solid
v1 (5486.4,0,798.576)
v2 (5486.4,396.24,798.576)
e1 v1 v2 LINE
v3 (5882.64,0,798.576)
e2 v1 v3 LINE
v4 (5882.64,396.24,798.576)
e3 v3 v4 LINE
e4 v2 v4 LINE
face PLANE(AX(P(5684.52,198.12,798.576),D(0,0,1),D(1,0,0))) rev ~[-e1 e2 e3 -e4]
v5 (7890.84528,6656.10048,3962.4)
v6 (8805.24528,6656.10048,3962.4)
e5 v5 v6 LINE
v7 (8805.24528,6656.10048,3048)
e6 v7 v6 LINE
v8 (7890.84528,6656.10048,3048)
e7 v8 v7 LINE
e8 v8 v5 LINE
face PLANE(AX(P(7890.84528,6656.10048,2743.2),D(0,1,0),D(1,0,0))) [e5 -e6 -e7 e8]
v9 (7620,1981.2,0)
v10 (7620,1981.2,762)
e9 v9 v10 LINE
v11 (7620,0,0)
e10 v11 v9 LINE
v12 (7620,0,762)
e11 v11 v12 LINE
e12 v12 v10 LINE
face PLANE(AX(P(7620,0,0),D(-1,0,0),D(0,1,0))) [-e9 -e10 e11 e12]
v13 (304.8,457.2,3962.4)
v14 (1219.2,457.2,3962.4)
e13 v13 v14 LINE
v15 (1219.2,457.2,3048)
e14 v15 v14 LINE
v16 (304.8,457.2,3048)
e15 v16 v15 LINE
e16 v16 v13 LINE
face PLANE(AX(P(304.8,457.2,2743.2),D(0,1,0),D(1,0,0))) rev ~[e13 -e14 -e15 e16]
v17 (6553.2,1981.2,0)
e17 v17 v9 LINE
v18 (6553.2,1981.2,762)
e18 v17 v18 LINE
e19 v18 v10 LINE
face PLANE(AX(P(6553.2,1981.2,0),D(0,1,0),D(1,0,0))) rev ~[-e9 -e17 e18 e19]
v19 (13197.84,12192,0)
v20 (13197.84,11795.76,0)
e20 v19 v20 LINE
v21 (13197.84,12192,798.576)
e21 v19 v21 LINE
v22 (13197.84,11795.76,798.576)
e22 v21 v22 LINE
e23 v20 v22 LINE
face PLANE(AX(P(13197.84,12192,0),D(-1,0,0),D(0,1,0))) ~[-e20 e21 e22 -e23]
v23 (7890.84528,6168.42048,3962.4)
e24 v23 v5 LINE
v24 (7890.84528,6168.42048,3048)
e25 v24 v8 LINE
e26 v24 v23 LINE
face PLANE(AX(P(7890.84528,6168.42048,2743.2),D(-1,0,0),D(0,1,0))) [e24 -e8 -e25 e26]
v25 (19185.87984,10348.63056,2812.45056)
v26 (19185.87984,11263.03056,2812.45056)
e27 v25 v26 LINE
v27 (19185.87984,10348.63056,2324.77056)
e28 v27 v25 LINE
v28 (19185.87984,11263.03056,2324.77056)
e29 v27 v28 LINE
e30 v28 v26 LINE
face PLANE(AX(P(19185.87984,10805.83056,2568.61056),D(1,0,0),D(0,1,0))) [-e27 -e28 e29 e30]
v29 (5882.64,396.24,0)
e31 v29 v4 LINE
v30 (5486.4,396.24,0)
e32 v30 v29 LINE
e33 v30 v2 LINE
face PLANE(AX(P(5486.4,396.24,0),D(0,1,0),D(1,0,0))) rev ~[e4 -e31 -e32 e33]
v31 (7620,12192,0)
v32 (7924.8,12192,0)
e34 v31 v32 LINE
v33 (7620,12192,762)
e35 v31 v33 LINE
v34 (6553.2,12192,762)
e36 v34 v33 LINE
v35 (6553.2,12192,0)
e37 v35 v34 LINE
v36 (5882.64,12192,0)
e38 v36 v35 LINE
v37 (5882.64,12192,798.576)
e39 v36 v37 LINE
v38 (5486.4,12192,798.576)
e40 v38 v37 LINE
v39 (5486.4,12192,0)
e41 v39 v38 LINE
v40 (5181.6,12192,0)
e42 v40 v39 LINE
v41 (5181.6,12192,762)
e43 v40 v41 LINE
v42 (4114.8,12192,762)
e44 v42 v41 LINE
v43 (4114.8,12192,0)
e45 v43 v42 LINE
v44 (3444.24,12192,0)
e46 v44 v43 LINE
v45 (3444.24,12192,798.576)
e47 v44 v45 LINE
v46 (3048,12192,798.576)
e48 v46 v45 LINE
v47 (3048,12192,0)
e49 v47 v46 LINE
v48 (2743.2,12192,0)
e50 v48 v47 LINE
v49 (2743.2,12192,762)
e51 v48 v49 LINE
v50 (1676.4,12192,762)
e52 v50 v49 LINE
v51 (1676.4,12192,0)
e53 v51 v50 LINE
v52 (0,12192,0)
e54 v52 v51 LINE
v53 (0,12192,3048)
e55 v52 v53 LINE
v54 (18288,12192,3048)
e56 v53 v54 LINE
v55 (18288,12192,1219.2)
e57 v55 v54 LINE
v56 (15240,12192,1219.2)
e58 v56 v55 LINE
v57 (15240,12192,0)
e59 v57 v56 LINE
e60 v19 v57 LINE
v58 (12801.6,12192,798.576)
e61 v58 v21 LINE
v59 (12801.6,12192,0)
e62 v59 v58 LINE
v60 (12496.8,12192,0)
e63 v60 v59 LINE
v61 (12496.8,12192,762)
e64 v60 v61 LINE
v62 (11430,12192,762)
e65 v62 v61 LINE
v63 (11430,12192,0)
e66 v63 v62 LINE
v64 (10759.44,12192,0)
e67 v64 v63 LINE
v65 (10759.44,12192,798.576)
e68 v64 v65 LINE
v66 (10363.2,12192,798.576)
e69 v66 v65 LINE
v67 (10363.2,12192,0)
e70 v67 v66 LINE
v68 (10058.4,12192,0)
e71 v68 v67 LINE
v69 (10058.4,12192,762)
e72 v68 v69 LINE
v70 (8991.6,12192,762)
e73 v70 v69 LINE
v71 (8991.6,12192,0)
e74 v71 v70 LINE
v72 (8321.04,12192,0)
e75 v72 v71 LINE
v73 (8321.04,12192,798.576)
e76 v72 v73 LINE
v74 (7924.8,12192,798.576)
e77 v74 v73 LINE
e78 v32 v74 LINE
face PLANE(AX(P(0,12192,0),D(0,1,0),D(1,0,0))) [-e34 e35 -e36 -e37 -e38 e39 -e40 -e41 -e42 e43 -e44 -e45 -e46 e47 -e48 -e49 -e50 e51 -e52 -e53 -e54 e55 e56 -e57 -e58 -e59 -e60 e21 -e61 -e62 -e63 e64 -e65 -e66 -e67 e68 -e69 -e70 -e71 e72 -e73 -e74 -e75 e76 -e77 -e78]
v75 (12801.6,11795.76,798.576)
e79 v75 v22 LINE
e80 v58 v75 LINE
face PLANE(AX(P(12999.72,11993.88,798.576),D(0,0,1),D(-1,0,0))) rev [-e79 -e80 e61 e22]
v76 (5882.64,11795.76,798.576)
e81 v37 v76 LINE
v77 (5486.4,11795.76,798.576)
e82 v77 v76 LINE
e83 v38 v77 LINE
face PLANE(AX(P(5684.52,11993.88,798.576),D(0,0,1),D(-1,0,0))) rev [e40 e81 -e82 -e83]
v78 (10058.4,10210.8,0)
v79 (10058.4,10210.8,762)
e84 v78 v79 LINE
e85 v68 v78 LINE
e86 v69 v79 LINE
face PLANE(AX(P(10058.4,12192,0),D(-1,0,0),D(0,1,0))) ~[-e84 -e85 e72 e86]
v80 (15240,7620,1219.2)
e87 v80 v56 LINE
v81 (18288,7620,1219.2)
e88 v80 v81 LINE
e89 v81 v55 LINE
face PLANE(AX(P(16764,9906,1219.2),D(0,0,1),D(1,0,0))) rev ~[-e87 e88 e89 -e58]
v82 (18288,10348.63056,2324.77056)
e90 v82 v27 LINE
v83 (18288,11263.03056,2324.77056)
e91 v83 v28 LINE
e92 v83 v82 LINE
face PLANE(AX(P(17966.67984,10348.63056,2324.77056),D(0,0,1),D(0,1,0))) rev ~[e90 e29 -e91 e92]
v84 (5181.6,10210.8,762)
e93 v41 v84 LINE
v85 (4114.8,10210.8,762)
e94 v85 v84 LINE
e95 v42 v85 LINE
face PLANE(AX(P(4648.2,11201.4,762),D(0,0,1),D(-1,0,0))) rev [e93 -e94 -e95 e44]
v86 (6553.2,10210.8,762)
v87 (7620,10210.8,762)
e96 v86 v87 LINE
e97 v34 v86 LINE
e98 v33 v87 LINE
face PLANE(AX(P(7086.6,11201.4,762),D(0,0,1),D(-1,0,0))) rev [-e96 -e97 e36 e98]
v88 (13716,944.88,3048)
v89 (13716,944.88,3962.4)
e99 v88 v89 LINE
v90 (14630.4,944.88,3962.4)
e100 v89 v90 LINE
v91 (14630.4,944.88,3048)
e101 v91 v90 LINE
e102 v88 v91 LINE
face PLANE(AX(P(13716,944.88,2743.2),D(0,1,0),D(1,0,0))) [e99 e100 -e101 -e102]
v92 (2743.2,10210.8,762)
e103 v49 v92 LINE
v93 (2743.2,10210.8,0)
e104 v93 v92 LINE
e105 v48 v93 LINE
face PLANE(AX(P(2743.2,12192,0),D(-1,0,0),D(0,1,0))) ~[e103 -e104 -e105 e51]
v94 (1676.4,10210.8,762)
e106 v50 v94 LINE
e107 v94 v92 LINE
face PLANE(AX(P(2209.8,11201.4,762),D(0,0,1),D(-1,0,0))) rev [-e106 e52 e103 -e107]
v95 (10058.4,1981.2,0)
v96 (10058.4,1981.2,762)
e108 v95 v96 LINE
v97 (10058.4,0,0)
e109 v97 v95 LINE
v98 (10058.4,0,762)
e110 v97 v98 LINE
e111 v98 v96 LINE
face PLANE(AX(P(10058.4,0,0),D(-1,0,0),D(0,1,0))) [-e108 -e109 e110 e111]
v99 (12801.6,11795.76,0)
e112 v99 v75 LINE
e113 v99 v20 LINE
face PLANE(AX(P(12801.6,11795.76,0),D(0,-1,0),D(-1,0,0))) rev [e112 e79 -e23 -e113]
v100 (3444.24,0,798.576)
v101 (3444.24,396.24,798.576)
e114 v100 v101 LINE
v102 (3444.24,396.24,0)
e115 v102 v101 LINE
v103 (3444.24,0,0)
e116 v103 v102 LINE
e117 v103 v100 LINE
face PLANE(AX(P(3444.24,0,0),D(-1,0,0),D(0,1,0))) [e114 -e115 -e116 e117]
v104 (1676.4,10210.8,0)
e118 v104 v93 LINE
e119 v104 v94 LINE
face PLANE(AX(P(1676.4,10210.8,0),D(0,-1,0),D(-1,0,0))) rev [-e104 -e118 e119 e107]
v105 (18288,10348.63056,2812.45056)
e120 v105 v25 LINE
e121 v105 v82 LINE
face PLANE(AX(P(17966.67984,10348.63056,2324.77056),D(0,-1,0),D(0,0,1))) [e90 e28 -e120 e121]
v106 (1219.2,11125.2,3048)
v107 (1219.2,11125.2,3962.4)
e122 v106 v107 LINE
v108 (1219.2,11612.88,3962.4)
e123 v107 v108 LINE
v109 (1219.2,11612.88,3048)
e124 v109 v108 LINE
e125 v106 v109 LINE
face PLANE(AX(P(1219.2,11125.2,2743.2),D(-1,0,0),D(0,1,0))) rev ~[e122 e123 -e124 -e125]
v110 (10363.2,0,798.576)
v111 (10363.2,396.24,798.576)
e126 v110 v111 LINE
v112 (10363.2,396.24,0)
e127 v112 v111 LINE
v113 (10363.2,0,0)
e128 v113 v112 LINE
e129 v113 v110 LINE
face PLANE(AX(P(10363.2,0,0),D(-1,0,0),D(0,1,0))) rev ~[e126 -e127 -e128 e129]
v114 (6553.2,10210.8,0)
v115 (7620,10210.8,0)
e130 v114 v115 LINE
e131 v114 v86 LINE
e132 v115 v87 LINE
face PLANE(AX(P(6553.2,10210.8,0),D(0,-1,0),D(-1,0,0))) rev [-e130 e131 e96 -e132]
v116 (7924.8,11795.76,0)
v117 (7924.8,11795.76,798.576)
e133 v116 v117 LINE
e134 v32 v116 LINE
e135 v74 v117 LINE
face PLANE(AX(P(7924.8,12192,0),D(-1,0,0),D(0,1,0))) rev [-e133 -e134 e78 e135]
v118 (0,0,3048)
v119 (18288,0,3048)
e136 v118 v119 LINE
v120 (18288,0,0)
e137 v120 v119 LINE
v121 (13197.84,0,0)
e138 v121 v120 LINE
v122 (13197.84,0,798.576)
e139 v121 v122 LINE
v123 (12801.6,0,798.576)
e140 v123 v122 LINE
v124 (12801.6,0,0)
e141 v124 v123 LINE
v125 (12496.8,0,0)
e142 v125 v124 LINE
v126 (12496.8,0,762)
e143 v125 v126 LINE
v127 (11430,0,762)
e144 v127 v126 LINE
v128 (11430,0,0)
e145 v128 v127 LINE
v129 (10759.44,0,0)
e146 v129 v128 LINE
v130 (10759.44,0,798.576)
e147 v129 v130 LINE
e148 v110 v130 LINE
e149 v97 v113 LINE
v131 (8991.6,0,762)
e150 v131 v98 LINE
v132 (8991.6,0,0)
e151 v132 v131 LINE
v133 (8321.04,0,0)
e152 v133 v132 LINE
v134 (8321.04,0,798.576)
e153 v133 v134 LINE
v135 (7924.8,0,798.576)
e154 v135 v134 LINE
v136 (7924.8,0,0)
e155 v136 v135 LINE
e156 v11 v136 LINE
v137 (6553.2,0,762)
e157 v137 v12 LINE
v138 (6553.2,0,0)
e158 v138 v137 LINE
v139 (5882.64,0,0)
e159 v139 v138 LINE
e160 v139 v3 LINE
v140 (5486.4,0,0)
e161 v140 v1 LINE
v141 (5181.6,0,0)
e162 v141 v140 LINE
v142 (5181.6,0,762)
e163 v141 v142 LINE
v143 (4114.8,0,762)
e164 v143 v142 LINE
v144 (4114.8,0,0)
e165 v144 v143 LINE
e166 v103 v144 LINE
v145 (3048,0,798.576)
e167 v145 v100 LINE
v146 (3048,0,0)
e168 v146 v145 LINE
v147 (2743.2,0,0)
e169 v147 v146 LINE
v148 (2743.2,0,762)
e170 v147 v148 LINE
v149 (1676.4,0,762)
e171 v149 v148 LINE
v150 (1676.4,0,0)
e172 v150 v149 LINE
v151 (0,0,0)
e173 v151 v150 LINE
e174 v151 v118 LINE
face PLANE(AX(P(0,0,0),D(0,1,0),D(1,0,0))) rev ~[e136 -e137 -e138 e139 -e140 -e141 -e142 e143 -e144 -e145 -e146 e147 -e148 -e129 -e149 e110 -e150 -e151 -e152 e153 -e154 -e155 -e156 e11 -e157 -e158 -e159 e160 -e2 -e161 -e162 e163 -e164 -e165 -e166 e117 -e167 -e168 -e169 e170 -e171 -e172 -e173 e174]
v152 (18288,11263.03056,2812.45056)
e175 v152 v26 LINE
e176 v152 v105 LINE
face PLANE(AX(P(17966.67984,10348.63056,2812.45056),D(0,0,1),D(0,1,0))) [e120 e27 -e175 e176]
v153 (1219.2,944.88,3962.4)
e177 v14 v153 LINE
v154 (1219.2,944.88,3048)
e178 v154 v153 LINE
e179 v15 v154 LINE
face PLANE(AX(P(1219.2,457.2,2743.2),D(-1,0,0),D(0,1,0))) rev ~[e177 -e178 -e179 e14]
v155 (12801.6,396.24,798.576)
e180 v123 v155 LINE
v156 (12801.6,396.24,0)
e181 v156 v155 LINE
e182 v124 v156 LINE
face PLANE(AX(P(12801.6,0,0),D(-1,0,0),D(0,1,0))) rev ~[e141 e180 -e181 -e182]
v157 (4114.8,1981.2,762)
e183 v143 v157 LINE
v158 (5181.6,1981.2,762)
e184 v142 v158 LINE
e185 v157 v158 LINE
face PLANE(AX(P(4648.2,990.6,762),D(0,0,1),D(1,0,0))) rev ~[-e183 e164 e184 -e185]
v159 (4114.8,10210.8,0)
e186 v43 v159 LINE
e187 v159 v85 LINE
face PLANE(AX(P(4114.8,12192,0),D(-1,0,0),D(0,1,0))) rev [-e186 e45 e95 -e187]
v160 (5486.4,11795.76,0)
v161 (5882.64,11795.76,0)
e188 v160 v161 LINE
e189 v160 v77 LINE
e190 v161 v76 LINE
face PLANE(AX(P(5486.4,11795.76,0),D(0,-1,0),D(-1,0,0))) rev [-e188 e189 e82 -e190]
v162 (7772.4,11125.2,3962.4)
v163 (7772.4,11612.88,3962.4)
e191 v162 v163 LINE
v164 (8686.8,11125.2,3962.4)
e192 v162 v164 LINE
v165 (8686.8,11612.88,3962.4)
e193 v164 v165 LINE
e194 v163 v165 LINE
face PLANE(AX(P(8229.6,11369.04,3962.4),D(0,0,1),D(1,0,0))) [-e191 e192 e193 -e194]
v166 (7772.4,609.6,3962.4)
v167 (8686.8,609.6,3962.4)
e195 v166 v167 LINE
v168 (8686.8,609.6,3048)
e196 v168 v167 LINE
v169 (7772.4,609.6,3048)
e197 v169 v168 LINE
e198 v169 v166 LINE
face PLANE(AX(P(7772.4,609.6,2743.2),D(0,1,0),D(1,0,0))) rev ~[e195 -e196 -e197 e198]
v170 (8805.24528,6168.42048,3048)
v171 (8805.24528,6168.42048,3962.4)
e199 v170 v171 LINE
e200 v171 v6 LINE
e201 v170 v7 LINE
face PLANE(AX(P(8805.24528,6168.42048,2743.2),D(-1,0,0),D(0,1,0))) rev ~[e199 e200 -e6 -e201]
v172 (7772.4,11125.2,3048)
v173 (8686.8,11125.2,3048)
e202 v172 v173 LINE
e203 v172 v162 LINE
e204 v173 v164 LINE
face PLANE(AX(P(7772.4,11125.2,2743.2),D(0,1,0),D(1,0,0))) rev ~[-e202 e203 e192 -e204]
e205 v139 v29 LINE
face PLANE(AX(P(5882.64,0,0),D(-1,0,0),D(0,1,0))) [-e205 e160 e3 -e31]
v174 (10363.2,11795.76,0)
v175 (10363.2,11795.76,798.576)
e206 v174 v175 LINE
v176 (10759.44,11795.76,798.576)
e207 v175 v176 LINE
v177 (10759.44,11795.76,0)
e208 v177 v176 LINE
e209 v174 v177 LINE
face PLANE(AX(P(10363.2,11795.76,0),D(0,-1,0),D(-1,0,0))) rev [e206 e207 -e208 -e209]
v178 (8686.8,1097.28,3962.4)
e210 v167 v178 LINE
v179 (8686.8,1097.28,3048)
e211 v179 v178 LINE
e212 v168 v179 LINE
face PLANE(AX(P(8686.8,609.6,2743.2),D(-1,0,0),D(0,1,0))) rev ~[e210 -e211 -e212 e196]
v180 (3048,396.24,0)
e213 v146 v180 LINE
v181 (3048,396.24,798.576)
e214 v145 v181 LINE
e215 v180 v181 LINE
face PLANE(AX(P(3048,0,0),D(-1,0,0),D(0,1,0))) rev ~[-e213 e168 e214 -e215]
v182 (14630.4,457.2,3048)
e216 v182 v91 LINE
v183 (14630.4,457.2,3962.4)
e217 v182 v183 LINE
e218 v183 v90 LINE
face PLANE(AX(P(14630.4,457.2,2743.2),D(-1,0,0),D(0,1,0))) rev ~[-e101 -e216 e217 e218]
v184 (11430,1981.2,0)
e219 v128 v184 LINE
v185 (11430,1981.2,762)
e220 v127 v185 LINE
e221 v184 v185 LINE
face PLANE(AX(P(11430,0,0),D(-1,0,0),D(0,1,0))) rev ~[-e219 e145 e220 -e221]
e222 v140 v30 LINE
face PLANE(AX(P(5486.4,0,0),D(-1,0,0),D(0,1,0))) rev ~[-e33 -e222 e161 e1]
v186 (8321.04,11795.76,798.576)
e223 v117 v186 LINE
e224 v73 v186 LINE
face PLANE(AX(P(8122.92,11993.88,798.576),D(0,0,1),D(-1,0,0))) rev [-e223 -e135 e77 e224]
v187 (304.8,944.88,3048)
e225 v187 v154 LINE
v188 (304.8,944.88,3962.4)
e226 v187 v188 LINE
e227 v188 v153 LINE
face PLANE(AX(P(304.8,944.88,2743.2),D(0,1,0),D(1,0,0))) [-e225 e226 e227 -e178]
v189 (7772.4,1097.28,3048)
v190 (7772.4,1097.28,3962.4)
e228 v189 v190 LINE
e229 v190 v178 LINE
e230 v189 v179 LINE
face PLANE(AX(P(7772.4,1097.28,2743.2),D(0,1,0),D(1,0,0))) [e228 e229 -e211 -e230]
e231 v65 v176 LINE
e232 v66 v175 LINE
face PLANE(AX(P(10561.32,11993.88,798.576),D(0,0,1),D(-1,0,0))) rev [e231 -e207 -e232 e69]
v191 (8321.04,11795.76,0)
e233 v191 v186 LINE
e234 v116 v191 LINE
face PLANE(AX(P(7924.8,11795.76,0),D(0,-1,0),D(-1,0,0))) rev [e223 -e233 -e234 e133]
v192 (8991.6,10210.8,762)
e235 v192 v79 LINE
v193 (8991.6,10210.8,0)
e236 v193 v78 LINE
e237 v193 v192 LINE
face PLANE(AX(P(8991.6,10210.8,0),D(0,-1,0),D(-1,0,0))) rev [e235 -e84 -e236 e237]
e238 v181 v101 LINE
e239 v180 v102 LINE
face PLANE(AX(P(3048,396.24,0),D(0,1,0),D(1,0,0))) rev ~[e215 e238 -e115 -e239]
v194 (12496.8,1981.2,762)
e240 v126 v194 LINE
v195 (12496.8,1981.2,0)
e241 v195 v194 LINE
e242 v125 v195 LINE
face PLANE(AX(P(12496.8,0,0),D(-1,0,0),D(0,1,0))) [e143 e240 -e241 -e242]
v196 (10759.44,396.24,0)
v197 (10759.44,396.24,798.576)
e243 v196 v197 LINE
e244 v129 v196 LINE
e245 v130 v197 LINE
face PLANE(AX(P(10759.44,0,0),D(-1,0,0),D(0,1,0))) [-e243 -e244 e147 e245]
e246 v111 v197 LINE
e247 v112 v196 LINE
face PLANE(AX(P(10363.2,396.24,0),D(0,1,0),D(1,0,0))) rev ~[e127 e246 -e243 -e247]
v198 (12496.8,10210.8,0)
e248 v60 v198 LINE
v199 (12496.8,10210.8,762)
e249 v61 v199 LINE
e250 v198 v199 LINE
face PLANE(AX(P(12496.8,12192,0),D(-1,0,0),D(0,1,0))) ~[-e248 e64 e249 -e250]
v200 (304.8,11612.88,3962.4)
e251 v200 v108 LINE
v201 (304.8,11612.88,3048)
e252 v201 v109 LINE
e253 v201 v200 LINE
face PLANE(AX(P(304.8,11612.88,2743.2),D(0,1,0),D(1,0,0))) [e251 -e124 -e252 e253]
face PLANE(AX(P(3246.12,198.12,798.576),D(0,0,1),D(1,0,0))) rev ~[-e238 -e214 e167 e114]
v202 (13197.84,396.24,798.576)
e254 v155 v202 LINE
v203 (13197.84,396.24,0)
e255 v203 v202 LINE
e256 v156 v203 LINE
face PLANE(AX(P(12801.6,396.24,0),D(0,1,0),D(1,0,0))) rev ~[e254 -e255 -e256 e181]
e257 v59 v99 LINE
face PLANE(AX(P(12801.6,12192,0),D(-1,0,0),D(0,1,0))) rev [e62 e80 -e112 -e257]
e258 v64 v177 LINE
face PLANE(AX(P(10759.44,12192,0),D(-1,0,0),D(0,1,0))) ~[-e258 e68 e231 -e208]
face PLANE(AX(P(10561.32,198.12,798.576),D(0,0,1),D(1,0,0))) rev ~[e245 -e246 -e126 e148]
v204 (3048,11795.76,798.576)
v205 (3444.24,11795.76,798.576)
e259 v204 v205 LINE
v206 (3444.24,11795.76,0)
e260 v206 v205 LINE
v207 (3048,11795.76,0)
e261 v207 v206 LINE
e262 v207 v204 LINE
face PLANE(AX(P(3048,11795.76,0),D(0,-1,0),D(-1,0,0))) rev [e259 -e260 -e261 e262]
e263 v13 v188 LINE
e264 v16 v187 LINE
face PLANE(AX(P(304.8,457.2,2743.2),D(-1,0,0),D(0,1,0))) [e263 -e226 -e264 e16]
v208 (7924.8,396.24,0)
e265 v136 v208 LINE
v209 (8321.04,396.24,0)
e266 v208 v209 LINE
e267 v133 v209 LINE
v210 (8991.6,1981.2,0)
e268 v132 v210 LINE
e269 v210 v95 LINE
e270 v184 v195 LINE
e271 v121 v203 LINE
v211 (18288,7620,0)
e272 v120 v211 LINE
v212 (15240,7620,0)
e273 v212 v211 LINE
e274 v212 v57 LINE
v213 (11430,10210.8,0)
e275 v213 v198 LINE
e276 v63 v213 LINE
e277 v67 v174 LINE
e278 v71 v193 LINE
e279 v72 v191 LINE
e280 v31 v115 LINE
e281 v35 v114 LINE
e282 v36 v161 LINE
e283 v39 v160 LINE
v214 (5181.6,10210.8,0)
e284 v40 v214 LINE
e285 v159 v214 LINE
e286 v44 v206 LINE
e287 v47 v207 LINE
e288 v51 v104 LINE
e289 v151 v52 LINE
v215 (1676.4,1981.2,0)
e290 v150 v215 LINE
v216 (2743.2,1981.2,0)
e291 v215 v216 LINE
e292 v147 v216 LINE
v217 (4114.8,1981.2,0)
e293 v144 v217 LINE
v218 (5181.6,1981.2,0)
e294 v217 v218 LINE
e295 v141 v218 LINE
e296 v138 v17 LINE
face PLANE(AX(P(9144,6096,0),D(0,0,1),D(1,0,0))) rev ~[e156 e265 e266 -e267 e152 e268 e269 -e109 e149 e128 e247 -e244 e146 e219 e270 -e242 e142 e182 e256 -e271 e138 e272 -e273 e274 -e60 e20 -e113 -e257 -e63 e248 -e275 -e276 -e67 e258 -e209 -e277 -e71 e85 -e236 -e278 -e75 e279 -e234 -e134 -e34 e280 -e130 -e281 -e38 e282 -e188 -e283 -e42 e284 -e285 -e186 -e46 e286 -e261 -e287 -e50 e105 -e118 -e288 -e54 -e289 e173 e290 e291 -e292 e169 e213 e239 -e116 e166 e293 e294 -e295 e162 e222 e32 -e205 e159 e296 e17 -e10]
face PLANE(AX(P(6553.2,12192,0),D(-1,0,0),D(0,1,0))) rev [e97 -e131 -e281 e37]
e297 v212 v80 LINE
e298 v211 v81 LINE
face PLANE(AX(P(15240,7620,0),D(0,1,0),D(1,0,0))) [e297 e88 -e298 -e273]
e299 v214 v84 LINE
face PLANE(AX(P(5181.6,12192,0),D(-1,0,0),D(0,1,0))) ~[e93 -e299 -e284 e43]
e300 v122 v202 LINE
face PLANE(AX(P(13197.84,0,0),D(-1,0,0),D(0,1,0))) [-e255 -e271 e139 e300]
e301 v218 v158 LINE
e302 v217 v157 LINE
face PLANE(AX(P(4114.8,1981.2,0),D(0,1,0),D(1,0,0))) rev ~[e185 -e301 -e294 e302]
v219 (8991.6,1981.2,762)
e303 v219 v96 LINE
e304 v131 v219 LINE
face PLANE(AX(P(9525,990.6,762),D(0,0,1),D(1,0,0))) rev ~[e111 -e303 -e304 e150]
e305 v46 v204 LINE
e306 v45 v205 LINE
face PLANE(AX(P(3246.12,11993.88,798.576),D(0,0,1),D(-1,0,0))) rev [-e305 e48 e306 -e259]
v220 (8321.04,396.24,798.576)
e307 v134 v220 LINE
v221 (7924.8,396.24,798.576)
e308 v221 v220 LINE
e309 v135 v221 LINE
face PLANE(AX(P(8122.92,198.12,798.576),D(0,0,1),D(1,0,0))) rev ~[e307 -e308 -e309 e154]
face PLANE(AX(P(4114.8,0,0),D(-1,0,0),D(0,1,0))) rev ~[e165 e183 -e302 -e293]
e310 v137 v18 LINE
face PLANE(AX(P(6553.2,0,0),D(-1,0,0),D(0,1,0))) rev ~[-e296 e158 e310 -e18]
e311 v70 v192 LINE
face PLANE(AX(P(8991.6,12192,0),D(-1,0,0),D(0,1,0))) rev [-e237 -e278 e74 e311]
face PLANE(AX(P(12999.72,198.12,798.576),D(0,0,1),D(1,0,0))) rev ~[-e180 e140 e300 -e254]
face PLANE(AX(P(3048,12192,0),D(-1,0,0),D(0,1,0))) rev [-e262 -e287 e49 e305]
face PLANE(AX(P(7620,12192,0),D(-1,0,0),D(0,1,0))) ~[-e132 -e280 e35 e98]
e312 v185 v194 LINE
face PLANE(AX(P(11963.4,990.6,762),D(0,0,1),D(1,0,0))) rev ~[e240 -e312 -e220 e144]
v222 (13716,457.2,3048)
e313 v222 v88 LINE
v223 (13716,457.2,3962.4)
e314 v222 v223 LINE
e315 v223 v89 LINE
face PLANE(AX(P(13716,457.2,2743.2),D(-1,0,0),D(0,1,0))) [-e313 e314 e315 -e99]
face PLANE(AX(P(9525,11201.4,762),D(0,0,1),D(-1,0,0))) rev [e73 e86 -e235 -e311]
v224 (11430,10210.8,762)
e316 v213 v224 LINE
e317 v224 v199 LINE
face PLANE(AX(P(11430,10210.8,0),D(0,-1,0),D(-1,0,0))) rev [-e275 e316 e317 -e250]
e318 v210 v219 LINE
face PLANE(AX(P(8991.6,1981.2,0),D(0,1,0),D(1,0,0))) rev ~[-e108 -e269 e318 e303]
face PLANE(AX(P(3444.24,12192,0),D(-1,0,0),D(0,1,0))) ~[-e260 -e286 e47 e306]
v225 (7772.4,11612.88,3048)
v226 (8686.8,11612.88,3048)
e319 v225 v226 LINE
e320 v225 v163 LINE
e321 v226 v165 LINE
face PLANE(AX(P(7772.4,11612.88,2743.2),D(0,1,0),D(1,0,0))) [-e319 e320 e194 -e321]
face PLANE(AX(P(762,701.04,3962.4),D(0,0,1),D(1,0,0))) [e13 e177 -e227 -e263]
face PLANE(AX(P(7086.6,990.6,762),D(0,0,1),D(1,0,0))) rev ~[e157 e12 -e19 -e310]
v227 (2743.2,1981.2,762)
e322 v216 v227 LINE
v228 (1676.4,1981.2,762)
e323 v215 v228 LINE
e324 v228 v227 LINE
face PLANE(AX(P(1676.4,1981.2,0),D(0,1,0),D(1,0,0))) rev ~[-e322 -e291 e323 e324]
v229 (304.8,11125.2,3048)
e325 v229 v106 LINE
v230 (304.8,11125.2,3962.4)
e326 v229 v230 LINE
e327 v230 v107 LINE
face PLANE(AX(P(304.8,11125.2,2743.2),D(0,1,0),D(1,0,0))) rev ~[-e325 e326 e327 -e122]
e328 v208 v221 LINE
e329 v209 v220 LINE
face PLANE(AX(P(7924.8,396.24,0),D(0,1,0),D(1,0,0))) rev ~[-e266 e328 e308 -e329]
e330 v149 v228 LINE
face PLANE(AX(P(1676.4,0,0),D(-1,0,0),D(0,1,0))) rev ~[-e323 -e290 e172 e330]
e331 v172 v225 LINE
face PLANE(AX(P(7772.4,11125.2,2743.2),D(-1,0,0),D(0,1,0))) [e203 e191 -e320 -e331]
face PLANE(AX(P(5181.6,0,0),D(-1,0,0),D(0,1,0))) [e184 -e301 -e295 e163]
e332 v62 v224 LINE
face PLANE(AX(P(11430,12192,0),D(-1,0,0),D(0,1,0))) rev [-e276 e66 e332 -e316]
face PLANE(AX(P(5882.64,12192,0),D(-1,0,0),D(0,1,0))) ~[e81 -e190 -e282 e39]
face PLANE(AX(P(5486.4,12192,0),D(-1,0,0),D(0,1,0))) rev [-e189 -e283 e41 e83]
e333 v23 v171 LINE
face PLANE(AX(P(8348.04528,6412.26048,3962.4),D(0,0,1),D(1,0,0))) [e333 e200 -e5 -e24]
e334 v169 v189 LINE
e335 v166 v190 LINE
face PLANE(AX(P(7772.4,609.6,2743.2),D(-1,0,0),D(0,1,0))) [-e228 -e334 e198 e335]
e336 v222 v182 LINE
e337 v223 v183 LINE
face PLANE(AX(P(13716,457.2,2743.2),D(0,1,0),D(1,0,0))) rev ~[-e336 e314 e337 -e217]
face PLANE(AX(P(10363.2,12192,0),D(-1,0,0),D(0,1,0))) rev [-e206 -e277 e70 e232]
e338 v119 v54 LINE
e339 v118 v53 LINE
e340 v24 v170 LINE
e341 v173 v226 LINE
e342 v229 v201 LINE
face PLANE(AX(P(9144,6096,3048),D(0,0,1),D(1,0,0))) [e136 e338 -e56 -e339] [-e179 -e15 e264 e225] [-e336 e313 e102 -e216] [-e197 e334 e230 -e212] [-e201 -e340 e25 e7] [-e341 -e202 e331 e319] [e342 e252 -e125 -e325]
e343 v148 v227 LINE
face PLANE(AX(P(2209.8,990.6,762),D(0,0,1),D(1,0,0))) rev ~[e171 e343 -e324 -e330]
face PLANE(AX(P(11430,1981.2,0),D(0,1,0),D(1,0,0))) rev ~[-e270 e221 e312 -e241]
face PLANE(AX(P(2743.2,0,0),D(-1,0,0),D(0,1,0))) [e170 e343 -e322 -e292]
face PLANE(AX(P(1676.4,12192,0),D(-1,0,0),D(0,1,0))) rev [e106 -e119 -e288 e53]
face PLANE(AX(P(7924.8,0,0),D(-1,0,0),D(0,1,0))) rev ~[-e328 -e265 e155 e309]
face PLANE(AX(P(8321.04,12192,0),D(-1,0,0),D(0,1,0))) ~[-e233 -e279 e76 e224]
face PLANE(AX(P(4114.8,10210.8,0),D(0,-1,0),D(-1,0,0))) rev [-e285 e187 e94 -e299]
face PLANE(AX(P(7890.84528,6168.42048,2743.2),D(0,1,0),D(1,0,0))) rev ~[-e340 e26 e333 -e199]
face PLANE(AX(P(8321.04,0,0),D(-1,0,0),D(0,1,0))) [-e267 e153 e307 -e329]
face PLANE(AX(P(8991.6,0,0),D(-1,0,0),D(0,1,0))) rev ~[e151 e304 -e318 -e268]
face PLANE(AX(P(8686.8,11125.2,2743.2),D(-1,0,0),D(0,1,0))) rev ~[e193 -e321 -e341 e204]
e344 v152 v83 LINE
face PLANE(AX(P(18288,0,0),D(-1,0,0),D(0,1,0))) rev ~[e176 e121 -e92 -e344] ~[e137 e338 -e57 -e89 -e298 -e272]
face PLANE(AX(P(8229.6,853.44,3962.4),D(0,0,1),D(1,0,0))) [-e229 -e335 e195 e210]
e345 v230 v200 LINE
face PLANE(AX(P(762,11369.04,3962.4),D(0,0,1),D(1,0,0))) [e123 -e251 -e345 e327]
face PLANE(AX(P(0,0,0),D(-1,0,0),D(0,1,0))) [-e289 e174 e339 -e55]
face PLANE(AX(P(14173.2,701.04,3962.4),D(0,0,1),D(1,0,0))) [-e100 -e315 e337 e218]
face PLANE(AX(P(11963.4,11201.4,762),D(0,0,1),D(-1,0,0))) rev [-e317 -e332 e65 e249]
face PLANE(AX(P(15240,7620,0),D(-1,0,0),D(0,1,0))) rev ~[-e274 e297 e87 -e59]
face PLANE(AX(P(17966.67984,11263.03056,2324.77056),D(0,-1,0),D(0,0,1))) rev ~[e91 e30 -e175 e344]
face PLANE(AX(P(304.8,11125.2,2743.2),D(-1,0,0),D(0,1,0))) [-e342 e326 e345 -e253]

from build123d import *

# Parameters (mm, degrees)
BOX006_W     = 1066.8
BOX006_H     = 1981.2
BOX006_DEPTH = 762
BOX005_W     = 396.24
BOX005_H     = 396.24
BOX005_DEPTH = 798.576
BOX007_W     = 1066.8
BOX007_H     = 1981.2
BOX007_DEPTH = 762
BOX008_W     = 396.24
BOX008_H     = 396.24
BOX008_DEPTH = 798.576
BOX010_W     = 1066.8
BOX010_H     = 1981.2
BOX010_DEPTH = 762
BOX009_W     = 396.24
BOX009_H     = 396.24
BOX009_DEPTH = 798.576
BOX001_W     = 1066.8
BOX001_H     = 1981.2
BOX001_DEPTH = 762
BOX002_W     = 396.24
BOX002_H     = 396.24
BOX002_DEPTH = 798.576
BOX003_W     = 1066.8
BOX003_H     = 1981.2
BOX003_DEPTH = 762
BOX004_W     = 396.24
BOX004_H     = 396.24
BOX004_DEPTH = 798.576
BOX011_W     = 3048
BOX011_H     = 4572
BOX011_DEPTH = 1219.2
BOX_W        = 18288
BOX_H        = 12192
BOX_DEPTH    = 3048
BOX022_W     = 914.4
BOX022_H     = 487.68
BOX022_DEPTH = 1219.2
BOX020_W     = 914.4
BOX020_H     = 487.68
BOX020_DEPTH = 1219.2
BOX018_W     = 914.4
BOX018_H     = 487.68
BOX018_DEPTH = 1219.2
BOX019_W     = 914.4
BOX019_H     = 487.68
BOX019_DEPTH = 1219.2
BOX015_W     = 914.4
BOX015_H     = 487.68
BOX015_DEPTH = 1219.2
BOX021_W     = 914.4
BOX021_H     = 487.68
BOX021_DEPTH = 1219.2
BOX023_W     = 914.4
BOX023_H     = 487.68
BOX023_DEPTH = 1219.2


with BuildPart() as box006:
    # Box006 → Box006 (new body)
    with BuildSketch(Plane.XY):
        with Locations((533.4, 990.6)):
            Rectangle(BOX006_W, BOX006_H)
    extrude(amount=BOX006_DEPTH)


with BuildPart() as fusion002:
    # Box005 → Box005 (new body)
    with BuildSketch(Plane(origin=(1371.6, 0, 0), x_dir=(1, 0, 0), z_dir=(0, 0, 1))):
        with Locations((198.12, 198.12)):
            Rectangle(BOX005_W, BOX005_H)
    extrude(amount=BOX005_DEPTH)

    # Fusion002: union Box006
    add(box006.part)


with BuildPart() as fusion002_1:
    # Fusion002 placement: moved
    add(fusion002.part.moved(Location((4876.8, 0, 0))))


with BuildPart() as box007:
    # Box007 → Box007 (new body)
    with BuildSketch(Plane.XY):
        with Locations((533.4, 990.6)):
            Rectangle(BOX007_W, BOX007_H)
    extrude(amount=BOX007_DEPTH)


with BuildPart() as fusion003:
    # Box008 → Box008 (new body)
    with BuildSketch(Plane(origin=(1371.6, 0, 0), x_dir=(1, 0, 0), z_dir=(0, 0, 1))):
        with Locations((198.12, 198.12)):
            Rectangle(BOX008_W, BOX008_H)
    extrude(amount=BOX008_DEPTH)

    # Fusion003: union Box007
    add(box007.part)


with BuildPart() as fusion003_1:
    # Fusion003 placement: moved
    add(fusion003.part.moved(Location((7315.2, 0, 0))))


with BuildPart() as box010:
    # Box010 → Box010 (new body)
    with BuildSketch(Plane.XY):
        with Locations((533.4, 990.6)):
            Rectangle(BOX010_W, BOX010_H)
    extrude(amount=BOX010_DEPTH)


with BuildPart() as fusion004:
    # Box009 → Box009 (new body)
    with BuildSketch(Plane(origin=(1371.6, 0, 0), x_dir=(1, 0, 0), z_dir=(0, 0, 1))):
        with Locations((198.12, 198.12)):
            Rectangle(BOX009_W, BOX009_H)
    extrude(amount=BOX009_DEPTH)

    # Fusion004: union Box010
    add(box010.part)


with BuildPart() as fusion004_1:
    # Fusion004 placement: moved
    add(fusion004.part.moved(Location((9753.6, 0, 0))))


with BuildPart() as box001:
    # Box001 → Box001 (new body)
    with BuildSketch(Plane.XY):
        with Locations((533.4, 990.6)):
            Rectangle(BOX001_W, BOX001_H)
    extrude(amount=BOX001_DEPTH)


with BuildPart() as fusion:
    # Box002 → Box002 (new body)
    with BuildSketch(Plane(origin=(1371.6, 0, 0), x_dir=(1, 0, 0), z_dir=(0, 0, 1))):
        with Locations((198.12, 198.12)):
            Rectangle(BOX002_W, BOX002_H)
    extrude(amount=BOX002_DEPTH)

    # Fusion: union Box001
    add(box001.part)


with BuildPart() as box003:
    # Box003 → Box003 (new body)
    with BuildSketch(Plane.XY):
        with Locations((533.4, 990.6)):
            Rectangle(BOX003_W, BOX003_H)
    extrude(amount=BOX003_DEPTH)


with BuildPart() as right_beds:
    # Box004 → Box004 (new body)
    with BuildSketch(Plane(origin=(1371.6, 0, 0), x_dir=(1, 0, 0), z_dir=(0, 0, 1))):
        with Locations((198.12, 198.12)):
            Rectangle(BOX004_W, BOX004_H)
    extrude(amount=BOX004_DEPTH)

    # Fusion001: union Box003
    add(box003.part)


with BuildPart() as right_beds_1:
    # Fusion001 placement: moved
    add(right_beds.part.moved(Location((2438.4, 0, 0))))

    # Fusion005: union Fusion002, Fusion003, Fusion004, Fusion
    add(fusion002_1.part)
    add(fusion003_1.part)
    add(fusion004_1.part)
    add(fusion.part)


with BuildPart() as all_beds:
    # Part__Mirroring: instance of right beds
    add(right_beds_1.part.mirror(Plane(origin=(0, 6096, 0), x_dir=(1, 0, 0), z_dir=(0, 1, 0))))

    # Fusion006: union right beds
    add(right_beds_1.part)


with BuildPart() as all_beds_1:
    # Fusion006 placement: moved
    add(all_beds.part.moved(Location((1676.4, 0, 0))))


with BuildPart() as surfaces:
    # Box011 → Box011 (new body)
    with BuildSketch(Plane(origin=(15240, 7620, 0), x_dir=(1, 0, 0), z_dir=(0, 0, 1))):
        with Locations((1524, 2286)):
            Rectangle(BOX011_W, BOX011_H)
    extrude(amount=BOX011_DEPTH)

    # Fusion008: union all beds
    add(all_beds_1.part)


with BuildPart() as room:
    # Box → Box (new body)
    with BuildSketch(Plane.XY):
        with Locations((9144, 6096)):
            Rectangle(BOX_W, BOX_H)
    extrude(amount=BOX_DEPTH)


with BuildPart() as box022:
    # Box022 → Box022 (new body)
    with BuildSketch(Plane(origin=(17966.67984, 10348.63056, 2324.77056), x_dir=(0, 1, 0), z_dir=(1, 0, 0))):
        with Locations((457.2, 243.84)):
            Rectangle(BOX022_W, BOX022_H)
    extrude(amount=BOX022_DEPTH)


with BuildPart() as box020:
    # Box020 → Box020 (new body)
    with BuildSketch(Plane(origin=(7772.4, 11125.2, 2743.2), x_dir=(1, 0, 0), z_dir=(0, 0, 1))):
        with Locations((457.2, 243.84)):
            Rectangle(BOX020_W, BOX020_H)
    extrude(amount=BOX020_DEPTH)


with BuildPart() as box018:
    # Box018 → Box018 (new body)
    with BuildSketch(Plane(origin=(304.8, 457.2, 2743.2), x_dir=(1, 0, 0), z_dir=(0, 0, 1))):
        with Locations((457.2, 243.84)):
            Rectangle(BOX018_W, BOX018_H)
    extrude(amount=BOX018_DEPTH)


with BuildPart() as box019:
    # Box019 → Box019 (new body)
    with BuildSketch(Plane(origin=(304.8, 11125.2, 2743.2), x_dir=(1, 0, 0), z_dir=(0, 0, 1))):
        with Locations((457.2, 243.84)):
            Rectangle(BOX019_W, BOX019_H)
    extrude(amount=BOX019_DEPTH)


with BuildPart() as box015:
    # Box015 → Box015 (new body)
    with BuildSketch(Plane(origin=(13716, 457.2, 2743.2), x_dir=(1, 0, 0), z_dir=(0, 0, 1))):
        with Locations((457.2, 243.84)):
            Rectangle(BOX015_W, BOX015_H)
    extrude(amount=BOX015_DEPTH)


with BuildPart() as box021:
    # Box021 → Box021 (new body)
    with BuildSketch(Plane(origin=(7772.4, 609.6, 2743.2), x_dir=(1, 0, 0), z_dir=(0, 0, 1))):
        with Locations((457.2, 243.84)):
            Rectangle(BOX021_W, BOX021_H)
    extrude(amount=BOX021_DEPTH)


with BuildPart() as cut:
    # Box023 → Box023 (new body)
    with BuildSketch(Plane(origin=(7890.84528, 6168.42048, 2743.2), x_dir=(1, 0, 0), z_dir=(0, 0, 1))):
        with Locations((457.2, 243.84)):
            Rectangle(BOX023_W, BOX023_H)
    extrude(amount=BOX023_DEPTH)

    # Fusion009: union Box022, Box020, Box018, Box019, Box015, Box021
    add(box022.part)
    add(box020.part)
    add(box018.part)
    add(box019.part)
    add(box015.part)
    add(box021.part)

    # Fusion010: union Room
    add(room.part)

    # Cut: cut surfaces
    add(surfaces.part, mode=Mode.SUBTRACT)


solid = cut.part
